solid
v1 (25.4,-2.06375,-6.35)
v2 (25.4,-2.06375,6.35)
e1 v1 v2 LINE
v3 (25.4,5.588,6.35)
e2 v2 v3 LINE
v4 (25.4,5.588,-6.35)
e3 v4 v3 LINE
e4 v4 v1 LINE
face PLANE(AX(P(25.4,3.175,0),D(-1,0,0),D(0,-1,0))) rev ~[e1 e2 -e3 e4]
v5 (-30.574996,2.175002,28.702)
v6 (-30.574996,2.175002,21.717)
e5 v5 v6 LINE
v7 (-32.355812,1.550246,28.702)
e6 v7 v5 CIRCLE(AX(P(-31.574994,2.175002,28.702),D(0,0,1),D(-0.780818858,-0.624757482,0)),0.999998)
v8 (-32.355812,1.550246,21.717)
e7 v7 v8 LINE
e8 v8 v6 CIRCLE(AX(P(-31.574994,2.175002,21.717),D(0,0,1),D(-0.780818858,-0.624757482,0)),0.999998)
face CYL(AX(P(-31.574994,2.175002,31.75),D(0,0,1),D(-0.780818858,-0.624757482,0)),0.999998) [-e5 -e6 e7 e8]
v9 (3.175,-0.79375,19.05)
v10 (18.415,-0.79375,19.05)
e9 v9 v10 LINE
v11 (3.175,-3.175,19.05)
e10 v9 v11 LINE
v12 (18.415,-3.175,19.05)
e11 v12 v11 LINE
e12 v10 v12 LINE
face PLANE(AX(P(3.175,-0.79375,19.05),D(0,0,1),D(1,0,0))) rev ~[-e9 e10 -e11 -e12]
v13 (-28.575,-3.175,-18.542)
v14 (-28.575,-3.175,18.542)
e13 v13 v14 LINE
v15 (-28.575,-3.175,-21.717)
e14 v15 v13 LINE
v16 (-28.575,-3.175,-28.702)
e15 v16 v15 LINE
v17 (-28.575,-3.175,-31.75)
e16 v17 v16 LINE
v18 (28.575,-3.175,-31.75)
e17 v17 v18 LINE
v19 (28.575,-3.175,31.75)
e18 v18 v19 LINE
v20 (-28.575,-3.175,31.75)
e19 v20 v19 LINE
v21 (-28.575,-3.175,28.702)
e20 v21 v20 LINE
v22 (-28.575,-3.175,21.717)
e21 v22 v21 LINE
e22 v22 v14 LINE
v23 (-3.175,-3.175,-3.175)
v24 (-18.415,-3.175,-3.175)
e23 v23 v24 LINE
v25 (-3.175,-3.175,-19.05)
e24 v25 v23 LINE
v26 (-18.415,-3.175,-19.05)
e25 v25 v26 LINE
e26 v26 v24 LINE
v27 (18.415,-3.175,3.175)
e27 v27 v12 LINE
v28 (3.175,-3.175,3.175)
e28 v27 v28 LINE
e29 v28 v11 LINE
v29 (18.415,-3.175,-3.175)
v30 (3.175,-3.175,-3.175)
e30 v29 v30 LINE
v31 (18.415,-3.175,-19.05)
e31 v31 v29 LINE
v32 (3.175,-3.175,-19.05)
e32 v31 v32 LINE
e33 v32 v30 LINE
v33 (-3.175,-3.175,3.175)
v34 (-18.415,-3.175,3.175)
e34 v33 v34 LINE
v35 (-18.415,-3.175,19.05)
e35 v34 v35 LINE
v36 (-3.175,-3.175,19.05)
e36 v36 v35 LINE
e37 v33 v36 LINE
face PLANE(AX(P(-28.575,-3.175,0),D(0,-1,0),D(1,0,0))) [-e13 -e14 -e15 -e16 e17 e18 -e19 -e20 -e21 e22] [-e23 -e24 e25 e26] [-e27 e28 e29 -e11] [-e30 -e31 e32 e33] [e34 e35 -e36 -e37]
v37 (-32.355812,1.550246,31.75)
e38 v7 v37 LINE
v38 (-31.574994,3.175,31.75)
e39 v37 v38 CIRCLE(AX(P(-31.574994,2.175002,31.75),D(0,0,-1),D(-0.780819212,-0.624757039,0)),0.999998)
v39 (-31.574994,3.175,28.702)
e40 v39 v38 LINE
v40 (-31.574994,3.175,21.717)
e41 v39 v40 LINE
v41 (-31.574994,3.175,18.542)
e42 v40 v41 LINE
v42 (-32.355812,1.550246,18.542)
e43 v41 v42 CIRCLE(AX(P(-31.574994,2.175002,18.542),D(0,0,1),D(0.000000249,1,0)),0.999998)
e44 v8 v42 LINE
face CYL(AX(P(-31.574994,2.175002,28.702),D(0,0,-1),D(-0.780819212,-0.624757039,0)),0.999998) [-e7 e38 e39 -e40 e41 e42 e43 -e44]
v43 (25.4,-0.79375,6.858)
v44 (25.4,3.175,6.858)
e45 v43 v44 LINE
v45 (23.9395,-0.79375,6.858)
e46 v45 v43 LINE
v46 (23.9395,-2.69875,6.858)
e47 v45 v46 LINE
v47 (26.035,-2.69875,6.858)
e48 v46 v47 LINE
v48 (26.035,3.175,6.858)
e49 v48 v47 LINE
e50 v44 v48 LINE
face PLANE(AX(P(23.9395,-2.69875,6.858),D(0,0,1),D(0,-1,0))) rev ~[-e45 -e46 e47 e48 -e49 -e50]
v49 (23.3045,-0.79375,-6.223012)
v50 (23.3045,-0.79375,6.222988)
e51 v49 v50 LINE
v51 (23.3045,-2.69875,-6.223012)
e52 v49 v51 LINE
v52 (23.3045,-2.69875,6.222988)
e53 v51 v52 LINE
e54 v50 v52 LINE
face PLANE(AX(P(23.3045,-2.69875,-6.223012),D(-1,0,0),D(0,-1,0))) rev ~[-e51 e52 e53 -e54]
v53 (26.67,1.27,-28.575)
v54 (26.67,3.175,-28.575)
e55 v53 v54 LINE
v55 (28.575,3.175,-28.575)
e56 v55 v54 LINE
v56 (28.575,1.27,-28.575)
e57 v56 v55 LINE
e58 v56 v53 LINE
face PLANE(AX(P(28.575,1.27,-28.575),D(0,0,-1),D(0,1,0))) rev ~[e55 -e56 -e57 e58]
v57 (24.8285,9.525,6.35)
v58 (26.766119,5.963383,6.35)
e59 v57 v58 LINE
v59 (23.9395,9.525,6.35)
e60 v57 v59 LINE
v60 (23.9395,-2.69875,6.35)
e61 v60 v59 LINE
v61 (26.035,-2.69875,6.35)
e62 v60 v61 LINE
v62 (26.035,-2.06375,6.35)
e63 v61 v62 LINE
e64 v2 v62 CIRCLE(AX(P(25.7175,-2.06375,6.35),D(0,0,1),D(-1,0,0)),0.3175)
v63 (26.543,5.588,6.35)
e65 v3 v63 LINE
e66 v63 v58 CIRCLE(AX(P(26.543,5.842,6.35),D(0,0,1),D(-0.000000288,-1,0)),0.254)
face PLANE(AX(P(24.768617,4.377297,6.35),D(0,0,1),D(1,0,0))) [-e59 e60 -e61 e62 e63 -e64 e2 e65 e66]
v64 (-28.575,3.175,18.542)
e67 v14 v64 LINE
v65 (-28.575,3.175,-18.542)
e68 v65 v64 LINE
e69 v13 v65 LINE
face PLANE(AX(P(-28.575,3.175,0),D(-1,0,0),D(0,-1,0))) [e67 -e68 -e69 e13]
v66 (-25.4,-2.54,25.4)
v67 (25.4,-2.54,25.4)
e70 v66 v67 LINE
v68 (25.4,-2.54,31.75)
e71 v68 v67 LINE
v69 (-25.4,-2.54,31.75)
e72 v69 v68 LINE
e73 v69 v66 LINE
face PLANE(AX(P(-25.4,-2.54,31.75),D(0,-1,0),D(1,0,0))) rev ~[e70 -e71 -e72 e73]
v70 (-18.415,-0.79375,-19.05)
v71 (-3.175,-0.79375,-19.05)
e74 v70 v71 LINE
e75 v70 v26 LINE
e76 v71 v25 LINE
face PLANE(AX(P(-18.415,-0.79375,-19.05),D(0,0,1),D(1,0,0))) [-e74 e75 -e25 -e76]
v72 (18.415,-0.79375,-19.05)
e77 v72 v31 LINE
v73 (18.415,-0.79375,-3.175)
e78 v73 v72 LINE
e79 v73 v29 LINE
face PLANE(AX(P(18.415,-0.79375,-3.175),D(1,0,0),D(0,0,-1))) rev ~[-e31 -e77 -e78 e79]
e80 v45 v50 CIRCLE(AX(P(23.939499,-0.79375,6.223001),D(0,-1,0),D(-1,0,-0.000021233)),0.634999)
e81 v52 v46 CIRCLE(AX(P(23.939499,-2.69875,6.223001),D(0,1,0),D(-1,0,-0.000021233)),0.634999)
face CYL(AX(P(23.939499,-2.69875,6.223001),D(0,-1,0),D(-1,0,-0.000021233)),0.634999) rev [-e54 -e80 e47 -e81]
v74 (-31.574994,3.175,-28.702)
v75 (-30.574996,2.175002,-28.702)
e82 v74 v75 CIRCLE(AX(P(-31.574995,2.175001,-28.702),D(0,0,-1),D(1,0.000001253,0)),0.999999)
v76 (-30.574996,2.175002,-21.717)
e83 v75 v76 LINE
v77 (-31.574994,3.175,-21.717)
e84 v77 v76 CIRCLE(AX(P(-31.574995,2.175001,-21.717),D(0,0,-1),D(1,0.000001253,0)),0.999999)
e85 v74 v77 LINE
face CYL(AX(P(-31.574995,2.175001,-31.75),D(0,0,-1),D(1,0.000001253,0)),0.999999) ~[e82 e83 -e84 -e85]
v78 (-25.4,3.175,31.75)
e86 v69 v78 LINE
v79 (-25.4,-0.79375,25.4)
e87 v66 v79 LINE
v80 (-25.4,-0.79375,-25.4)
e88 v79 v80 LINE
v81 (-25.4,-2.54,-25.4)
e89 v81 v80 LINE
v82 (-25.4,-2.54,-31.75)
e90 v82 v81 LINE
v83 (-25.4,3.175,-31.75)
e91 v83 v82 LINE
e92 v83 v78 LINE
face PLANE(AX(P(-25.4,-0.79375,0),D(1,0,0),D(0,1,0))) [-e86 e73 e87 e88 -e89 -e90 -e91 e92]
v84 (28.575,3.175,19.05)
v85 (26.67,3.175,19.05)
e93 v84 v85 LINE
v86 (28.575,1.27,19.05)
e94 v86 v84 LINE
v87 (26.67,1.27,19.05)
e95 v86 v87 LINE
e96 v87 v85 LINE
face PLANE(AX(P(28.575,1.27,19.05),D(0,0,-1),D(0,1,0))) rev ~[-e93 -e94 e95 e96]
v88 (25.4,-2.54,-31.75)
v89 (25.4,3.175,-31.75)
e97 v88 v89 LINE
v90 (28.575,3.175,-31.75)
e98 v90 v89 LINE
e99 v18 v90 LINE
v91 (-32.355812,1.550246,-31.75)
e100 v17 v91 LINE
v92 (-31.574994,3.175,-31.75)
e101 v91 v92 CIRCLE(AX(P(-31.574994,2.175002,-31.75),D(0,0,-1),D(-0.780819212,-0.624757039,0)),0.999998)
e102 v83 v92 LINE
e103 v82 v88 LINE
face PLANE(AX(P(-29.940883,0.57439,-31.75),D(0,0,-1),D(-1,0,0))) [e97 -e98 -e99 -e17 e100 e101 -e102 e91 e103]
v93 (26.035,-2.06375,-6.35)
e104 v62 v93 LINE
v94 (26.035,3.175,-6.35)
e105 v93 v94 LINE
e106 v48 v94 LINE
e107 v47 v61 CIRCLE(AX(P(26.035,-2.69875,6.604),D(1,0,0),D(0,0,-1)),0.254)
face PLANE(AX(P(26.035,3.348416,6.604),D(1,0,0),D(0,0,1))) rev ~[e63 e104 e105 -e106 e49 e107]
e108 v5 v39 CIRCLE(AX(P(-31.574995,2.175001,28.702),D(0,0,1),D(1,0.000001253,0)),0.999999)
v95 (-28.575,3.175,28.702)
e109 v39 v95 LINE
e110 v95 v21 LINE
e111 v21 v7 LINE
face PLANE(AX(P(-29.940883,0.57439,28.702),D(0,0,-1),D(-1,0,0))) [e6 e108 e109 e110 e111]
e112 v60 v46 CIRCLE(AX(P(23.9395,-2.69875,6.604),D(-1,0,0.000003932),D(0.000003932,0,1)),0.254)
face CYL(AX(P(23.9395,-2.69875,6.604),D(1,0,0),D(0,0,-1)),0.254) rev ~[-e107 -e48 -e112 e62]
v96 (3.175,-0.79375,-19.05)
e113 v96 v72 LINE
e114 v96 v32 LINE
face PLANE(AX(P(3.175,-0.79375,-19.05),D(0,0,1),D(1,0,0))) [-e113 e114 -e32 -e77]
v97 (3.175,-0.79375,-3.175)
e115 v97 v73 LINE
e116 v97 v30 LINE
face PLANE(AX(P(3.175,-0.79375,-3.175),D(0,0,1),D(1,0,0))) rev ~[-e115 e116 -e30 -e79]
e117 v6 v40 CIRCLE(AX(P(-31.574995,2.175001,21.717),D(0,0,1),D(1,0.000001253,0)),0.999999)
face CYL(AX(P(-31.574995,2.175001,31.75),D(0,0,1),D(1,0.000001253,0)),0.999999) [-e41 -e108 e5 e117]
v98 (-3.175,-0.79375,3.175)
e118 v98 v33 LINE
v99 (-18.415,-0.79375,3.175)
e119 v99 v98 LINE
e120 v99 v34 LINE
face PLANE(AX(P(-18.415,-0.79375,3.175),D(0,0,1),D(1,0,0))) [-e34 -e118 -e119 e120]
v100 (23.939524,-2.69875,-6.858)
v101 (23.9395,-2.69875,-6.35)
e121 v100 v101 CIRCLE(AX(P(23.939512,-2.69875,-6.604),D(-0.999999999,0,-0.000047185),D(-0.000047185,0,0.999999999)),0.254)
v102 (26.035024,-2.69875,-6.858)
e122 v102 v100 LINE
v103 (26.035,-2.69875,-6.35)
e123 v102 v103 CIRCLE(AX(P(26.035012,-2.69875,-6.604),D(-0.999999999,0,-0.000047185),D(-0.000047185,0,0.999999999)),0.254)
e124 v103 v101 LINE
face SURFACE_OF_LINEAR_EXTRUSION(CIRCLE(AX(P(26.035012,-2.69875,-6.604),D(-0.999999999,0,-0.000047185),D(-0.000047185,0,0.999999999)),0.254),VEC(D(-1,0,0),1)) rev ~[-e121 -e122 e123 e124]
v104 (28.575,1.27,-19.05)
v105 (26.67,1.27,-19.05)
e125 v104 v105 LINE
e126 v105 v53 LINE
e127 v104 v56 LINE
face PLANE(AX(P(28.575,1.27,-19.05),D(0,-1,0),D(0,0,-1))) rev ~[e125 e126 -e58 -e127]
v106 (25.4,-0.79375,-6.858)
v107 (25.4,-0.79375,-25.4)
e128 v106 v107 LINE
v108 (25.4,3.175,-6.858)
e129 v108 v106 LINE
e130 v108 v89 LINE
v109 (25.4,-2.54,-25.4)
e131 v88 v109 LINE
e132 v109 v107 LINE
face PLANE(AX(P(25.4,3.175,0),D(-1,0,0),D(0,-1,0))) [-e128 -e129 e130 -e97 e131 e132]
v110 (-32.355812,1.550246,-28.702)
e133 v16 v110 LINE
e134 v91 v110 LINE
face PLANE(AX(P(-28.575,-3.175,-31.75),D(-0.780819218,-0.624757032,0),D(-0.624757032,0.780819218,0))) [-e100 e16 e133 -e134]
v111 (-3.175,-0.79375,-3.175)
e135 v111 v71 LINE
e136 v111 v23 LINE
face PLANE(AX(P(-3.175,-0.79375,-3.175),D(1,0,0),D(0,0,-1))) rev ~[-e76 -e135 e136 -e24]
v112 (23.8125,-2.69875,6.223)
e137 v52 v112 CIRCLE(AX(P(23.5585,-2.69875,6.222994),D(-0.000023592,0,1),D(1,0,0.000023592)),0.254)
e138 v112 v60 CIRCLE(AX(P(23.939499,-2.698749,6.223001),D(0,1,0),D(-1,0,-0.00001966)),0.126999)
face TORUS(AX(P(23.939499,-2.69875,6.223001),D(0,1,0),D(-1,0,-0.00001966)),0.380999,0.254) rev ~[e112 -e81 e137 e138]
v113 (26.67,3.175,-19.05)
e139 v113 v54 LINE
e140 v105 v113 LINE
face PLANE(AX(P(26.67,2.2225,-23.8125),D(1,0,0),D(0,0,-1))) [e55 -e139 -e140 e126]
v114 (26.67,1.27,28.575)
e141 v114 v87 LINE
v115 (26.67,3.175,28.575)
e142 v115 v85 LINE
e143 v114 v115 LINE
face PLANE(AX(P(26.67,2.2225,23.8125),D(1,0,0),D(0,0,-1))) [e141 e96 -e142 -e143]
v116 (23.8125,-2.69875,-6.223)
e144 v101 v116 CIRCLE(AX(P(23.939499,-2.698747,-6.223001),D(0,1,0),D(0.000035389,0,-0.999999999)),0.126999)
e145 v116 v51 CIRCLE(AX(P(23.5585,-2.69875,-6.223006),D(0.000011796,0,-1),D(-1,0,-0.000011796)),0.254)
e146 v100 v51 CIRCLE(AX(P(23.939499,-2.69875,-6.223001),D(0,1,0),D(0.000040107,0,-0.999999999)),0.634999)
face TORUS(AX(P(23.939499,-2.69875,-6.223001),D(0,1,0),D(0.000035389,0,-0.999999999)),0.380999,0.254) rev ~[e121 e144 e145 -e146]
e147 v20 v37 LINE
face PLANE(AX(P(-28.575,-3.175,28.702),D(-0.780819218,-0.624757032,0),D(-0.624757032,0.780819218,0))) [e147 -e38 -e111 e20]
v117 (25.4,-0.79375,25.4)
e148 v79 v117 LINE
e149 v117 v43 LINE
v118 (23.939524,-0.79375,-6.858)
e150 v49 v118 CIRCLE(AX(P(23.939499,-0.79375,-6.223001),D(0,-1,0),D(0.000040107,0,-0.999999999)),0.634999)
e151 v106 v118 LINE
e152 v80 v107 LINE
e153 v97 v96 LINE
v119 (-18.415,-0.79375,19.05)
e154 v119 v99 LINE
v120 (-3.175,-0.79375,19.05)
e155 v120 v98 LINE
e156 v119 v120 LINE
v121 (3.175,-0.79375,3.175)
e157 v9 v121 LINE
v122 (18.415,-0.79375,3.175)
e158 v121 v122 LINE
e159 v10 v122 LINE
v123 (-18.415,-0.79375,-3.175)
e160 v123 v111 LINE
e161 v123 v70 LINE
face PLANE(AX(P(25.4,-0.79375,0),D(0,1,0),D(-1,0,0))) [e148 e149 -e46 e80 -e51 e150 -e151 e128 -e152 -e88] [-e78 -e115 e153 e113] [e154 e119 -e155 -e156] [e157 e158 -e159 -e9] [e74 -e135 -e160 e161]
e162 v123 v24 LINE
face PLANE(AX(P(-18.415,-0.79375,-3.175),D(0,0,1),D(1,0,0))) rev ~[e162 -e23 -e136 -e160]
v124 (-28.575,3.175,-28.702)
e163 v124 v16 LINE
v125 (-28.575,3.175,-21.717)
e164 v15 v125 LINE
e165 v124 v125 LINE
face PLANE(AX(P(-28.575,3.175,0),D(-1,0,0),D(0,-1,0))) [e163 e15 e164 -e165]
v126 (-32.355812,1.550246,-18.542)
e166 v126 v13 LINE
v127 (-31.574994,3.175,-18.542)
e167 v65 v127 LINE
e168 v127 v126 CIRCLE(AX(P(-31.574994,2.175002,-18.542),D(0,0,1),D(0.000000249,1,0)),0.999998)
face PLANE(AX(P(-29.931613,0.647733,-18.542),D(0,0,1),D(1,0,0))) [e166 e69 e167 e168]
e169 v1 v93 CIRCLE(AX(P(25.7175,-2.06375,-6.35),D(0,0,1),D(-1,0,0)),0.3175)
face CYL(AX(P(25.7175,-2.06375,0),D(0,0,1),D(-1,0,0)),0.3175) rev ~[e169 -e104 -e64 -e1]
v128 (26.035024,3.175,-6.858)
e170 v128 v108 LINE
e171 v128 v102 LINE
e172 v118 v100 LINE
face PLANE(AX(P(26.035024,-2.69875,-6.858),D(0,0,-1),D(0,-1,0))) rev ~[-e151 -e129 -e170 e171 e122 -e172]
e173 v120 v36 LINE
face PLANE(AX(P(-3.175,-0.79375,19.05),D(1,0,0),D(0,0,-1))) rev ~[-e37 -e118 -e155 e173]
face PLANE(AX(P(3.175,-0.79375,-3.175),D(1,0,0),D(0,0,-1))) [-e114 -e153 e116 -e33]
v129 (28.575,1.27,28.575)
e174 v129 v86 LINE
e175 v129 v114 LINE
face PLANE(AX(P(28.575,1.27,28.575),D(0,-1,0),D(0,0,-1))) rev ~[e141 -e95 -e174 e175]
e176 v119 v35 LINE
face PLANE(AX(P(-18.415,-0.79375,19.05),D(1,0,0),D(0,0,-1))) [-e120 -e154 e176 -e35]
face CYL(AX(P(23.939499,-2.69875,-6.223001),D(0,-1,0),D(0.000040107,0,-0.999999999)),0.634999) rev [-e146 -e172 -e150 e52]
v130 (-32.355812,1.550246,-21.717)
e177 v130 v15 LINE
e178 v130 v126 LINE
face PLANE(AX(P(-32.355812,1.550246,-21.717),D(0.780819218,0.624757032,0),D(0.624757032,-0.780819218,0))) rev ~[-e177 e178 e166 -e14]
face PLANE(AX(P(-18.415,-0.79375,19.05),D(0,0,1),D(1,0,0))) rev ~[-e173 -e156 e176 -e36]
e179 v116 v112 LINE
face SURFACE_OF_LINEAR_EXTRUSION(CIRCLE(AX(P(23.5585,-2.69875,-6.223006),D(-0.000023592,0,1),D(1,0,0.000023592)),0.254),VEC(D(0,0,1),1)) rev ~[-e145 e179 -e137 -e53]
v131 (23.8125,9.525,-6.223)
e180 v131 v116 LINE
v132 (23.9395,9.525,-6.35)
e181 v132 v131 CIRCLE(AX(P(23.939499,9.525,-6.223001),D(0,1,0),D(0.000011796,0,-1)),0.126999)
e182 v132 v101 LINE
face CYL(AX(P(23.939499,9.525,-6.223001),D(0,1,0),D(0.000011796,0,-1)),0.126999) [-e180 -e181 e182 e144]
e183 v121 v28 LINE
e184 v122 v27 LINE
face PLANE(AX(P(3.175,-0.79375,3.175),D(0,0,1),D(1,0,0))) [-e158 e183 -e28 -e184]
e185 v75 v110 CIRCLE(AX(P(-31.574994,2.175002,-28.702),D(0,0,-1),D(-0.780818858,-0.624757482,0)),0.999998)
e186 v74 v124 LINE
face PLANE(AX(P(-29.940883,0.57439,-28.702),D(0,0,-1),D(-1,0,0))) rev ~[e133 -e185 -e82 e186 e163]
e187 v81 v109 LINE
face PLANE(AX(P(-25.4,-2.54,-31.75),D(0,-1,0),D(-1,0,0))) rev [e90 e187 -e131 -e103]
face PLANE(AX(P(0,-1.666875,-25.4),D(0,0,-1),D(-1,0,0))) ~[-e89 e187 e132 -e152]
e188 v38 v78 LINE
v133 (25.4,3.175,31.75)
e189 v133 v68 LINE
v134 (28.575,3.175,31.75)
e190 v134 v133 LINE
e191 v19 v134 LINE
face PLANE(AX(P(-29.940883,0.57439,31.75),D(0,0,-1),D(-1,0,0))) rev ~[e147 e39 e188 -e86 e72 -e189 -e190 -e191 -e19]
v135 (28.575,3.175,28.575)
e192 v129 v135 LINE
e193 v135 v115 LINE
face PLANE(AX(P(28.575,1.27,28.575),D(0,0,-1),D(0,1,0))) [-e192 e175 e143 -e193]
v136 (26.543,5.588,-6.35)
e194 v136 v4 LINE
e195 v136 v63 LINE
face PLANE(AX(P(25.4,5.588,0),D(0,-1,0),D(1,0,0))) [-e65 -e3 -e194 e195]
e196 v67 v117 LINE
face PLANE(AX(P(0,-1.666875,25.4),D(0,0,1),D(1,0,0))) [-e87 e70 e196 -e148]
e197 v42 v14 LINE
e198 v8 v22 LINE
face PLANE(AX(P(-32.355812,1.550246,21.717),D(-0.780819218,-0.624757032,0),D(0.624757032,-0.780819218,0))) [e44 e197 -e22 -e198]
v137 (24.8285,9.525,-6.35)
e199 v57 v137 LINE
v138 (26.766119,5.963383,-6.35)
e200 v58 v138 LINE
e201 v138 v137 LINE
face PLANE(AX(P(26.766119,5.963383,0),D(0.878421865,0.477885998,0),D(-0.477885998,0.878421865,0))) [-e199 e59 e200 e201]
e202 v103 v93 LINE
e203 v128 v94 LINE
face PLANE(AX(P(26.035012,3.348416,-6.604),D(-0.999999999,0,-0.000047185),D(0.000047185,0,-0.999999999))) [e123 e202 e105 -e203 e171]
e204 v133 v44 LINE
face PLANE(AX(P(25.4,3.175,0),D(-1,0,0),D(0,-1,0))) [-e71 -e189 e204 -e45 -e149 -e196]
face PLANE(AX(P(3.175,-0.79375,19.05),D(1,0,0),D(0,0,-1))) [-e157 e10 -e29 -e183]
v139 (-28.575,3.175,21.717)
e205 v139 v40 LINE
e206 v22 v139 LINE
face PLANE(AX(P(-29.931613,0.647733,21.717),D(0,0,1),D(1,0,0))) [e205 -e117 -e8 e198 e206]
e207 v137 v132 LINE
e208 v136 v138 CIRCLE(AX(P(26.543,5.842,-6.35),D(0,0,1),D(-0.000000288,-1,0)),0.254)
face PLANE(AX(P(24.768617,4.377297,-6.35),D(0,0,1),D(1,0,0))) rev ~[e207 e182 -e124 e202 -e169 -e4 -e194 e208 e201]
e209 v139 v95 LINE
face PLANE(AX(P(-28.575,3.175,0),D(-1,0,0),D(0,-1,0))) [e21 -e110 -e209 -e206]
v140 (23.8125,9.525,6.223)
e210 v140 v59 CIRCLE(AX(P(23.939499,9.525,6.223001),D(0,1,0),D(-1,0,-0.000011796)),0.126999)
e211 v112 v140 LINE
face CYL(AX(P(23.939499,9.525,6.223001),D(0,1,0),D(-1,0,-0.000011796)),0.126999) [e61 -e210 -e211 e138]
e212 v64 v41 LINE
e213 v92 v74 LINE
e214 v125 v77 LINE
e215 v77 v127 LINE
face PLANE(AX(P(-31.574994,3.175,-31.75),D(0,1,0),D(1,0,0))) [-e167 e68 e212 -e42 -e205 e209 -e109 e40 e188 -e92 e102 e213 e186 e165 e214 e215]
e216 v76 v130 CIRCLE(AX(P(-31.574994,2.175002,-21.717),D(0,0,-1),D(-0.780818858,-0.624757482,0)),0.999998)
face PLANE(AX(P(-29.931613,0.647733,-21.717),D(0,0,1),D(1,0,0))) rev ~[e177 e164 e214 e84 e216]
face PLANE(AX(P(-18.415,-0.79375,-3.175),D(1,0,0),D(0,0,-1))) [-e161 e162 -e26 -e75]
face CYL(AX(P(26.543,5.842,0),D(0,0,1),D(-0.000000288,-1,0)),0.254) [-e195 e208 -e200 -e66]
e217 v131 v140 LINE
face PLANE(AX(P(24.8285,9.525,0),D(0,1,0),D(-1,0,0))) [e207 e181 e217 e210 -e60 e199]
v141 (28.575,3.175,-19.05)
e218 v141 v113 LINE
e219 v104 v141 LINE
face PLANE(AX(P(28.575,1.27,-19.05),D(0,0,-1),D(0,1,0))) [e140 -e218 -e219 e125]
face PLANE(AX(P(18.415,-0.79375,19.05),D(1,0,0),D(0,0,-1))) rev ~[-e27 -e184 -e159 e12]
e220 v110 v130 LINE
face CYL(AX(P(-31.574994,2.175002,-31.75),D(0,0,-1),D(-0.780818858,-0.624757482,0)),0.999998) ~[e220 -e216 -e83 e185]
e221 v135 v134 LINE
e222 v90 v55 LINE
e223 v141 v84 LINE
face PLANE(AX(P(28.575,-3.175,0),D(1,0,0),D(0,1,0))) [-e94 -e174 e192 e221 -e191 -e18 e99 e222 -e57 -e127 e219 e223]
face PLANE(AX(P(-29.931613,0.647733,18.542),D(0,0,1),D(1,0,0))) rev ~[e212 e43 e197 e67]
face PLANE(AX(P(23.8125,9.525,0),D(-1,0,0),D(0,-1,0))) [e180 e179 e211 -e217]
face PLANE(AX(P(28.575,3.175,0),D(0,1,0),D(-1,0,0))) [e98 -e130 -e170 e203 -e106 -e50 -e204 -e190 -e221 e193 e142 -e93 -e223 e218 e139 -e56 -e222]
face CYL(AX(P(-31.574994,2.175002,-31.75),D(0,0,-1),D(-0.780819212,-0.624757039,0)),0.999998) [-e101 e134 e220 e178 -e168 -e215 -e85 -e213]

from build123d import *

# Parameters (mm, degrees)
BOSS_EXTRUDE1_DEPTH     = 31.75
BOSS_EXTRUDE2_DEPTH     = 6.35
CUT_EXTRUDE2_DEPTH      = 6.4135
BOSS_EXTRUDE3_START     = 28.702
BOSS_EXTRUDE3_DEPTH     = 3.048
BOSS_EXTRUDE5_START     = -31.75
BOSS_EXTRUDE5_DEPTH     = 3.048
BOSS_EXTRUDE7_START     = 21.717
BOSS_EXTRUDE7_DEPTH     = 3.175
BOSS_EXTRUDE8_START     = -21.717
BOSS_EXTRUDE8_DEPTH     = 3.175
BOSS_EXTRUDE6_START     = 31.75
BOSS_EXTRUDE6_DEPTH     = 13.208
BOSS_EXTRUDE9_START     = -31.75
BOSS_EXTRUDE9_DEPTH     = 13.208
SKETCH3_W               = 15.24
SKETCH3_H               = 15.875
CUT_EXTRUDE4_DEPTH      = 11.31875
CUT_EXTRUDE4_DEPTH_BACK = 3.38125
SKETCH5_W               = 50.8
SKETCH5_H               = 1.74625
CUT_EXTRUDE6_DEPTH      = 6.35
SKETCH6_W               = 9.525
SKETCH6_H               = 1.905
CUT_EXTRUDE7_DEPTH      = 1.905


with BuildPart() as part:
    # Sketch1 → Boss-Extrude1 (new body, symmetric)
    with BuildSketch(Plane.XY):
        Polygon((-25.4, -0.79375), (-25.4, 3.175), (-28.575, 3.175), (-28.575, -3.175), (28.575, -3.175), (28.575, 3.175), (25.4, 3.175), (25.4, -0.79375), align=None)
    extrude(amount=BOSS_EXTRUDE1_DEPTH, both=True)

    # Sketch1<3> → Boss-Extrude2 (add, symmetric)
    with BuildSketch(Plane.XY):
        with BuildLine():
            Line((23.8125, 9.525), (23.8125, -0.79375))
            Line((23.8125, -0.79375), (25.4, -0.79375))
            Line((25.4, -0.79375), (25.4, 5.588))
            Line((25.4, 5.588), (26.543, 5.588))
            ThreePointArc((26.543, 5.588), (26.761343, 5.712222), (26.766119, 5.963383))
            Line((26.766119, 5.963383), (24.8285, 9.525))
            Line((24.8285, 9.525), (23.8125, 9.525))
        make_face()
    extrude(amount=BOSS_EXTRUDE2_DEPTH, both=True)

    # Sketch1<6> → Cut-Extrude2 (cut, symmetric)
    with BuildSketch(Plane.XY):
        with BuildLine():
            Line((26.035, 3.175), (25.4, 3.175))
            Line((25.4, 3.175), (25.4, -0.79375))
            Line((25.4, -0.79375), (25.4, -2.06375))
            ThreePointArc((25.4, -2.06375), (25.7175, -2.38125), (26.035, -2.06375))
            Line((26.035, -2.06375), (26.035, 3.175))
        make_face()
    extrude(amount=CUT_EXTRUDE2_DEPTH, both=True, mode=Mode.SUBTRACT)

    # Cut-Sweep1: sweep along a path in Sketch7
    with BuildLine(Plane(origin=(0, -0.79375, 0), x_dir=(1, 0, 0), z_dir=(0, 1, 0))) as cut_sweep1_path:
        Line((26.035, 6.35), (23.9395, 6.35))
        ThreePointArc((23.9395, 6.35), (23.849697, 6.312803), (23.8125, 6.223))
        Line((23.8125, 6.223), (23.8125, -6.223))
        ThreePointArc((23.8125, -6.223), (23.849697, -6.312803), (23.9395, -6.35))
        Line((23.9395, -6.35), (26.035, -6.35))
    # Sketch8 → Cut-Sweep1 (sweep, cut)
    with BuildSketch(Plane(origin=(26.035, 0, 0), x_dir=(0, 0, -1), z_dir=(1, 0, 0))):
        with BuildLine():
            Line((-6.858, -2.69875), (-6.858, 9.525))
            Line((-6.858, 9.525), (-6.35, 9.525))
            Line((-6.35, 9.525), (-6.35, -2.69875))
            ThreePointArc((-6.35, -2.69875), (-6.604, -2.95275), (-6.858, -2.69875))
        make_face()
    sweep(path=cut_sweep1_path.line, mode=Mode.SUBTRACT)

    # Sketch1<7> → Boss-Extrude3 (add)
    with BuildSketch(Plane.XY.offset(BOSS_EXTRUDE3_START)):
        with BuildLine():
            ThreePointArc((-32.355812, 1.550246), (-32.476313, 2.608154), (-31.574994, 3.175))
            Line((-31.574994, 3.175), (-28.575, 3.175))
            Line((-28.575, 3.175), (-28.575, -3.175))
            Line((-28.575, -3.175), (-32.355812, 1.550246))
        make_face()
        with BuildLine():
            ThreePointArc((-30.574996, 2.175002), (-30.867889, 2.882107), (-31.574994, 3.175))
            ThreePointArc((-31.574994, 3.175), (-32.476313, 2.608154), (-32.355812, 1.550246))
            ThreePointArc((-32.355812, 1.550246), (-31.24395, 1.231389), (-30.574996, 2.175002))
        make_face()
    extrude(amount=BOSS_EXTRUDE3_DEPTH)

    # Sketch1<9> → Boss-Extrude5 (add)
    with BuildSketch(Plane.XY.offset(BOSS_EXTRUDE5_START)):
        with BuildLine():
            ThreePointArc((-32.355812, 1.550246), (-32.476313, 2.608154), (-31.574994, 3.175))
            Line((-31.574994, 3.175), (-28.575, 3.175))
            Line((-28.575, 3.175), (-28.575, -3.175))
            Line((-28.575, -3.175), (-32.355812, 1.550246))
        make_face()
        with BuildLine():
            ThreePointArc((-30.574996, 2.175002), (-30.867889, 2.882107), (-31.574994, 3.175))
            ThreePointArc((-31.574994, 3.175), (-32.476313, 2.608154), (-32.355812, 1.550246))
            ThreePointArc((-32.355812, 1.550246), (-31.24395, 1.231389), (-30.574996, 2.175002))
        make_face()
    extrude(amount=BOSS_EXTRUDE5_DEPTH)

    # Sketch1<13> → Boss-Extrude7 (add)
    with BuildSketch(Plane.XY.offset(BOSS_EXTRUDE7_START)):
        with BuildLine():
            Line((-28.575, -3.175), (-28.575, 3.175))
            Line((-28.575, 3.175), (-31.574994, 3.175))
            ThreePointArc((-31.574994, 3.175), (-30.867889, 2.882107), (-30.574996, 2.175002))
            ThreePointArc((-30.574996, 2.175002), (-31.24395, 1.231389), (-32.355812, 1.550246))
            Line((-32.355812, 1.550246), (-28.575, -3.175))
        make_face()
        with BuildLine():
            ThreePointArc((-30.574996, 2.175002), (-30.867889, 2.882107), (-31.574994, 3.175))
            ThreePointArc((-31.574994, 3.175), (-32.476313, 2.608154), (-32.355812, 1.550246))
            ThreePointArc((-32.355812, 1.550246), (-31.24395, 1.231389), (-30.574996, 2.175002))
        make_face()
    extrude(amount=-BOSS_EXTRUDE7_DEPTH)

    # Sketch1<14> → Boss-Extrude8 (add)
    with BuildSketch(Plane.XY.offset(BOSS_EXTRUDE8_START)):
        with BuildLine():
            Line((-28.575, -3.175), (-28.575, 3.175))
            Line((-28.575, 3.175), (-31.574994, 3.175))
            ThreePointArc((-31.574994, 3.175), (-30.867889, 2.882107), (-30.574996, 2.175002))
            ThreePointArc((-30.574996, 2.175002), (-31.24395, 1.231389), (-32.355812, 1.550246))
            Line((-32.355812, 1.550246), (-28.575, -3.175))
        make_face()
        with BuildLine():
            ThreePointArc((-30.574996, 2.175002), (-30.867889, 2.882107), (-31.574994, 3.175))
            ThreePointArc((-31.574994, 3.175), (-32.476313, 2.608154), (-32.355812, 1.550246))
            ThreePointArc((-32.355812, 1.550246), (-31.24395, 1.231389), (-30.574996, 2.175002))
        make_face()
    extrude(amount=BOSS_EXTRUDE8_DEPTH)

    # Sketch1<10> → Boss-Extrude6 (add)
    with BuildSketch(Plane.XY.offset(BOSS_EXTRUDE6_START)):
        with BuildLine():
            ThreePointArc((-30.574996, 2.175002), (-30.867889, 2.882107), (-31.574994, 3.175))
            ThreePointArc((-31.574994, 3.175), (-32.476313, 2.608154), (-32.355812, 1.550246))
            ThreePointArc((-32.355812, 1.550246), (-31.24395, 1.231389), (-30.574996, 2.175002))
        make_face()
    extrude(amount=-BOSS_EXTRUDE6_DEPTH)

    # Sketch1<16> → Boss-Extrude9 (add)
    with BuildSketch(Plane.XY.offset(BOSS_EXTRUDE9_START)):
        with BuildLine():
            ThreePointArc((-30.574996, 2.175002), (-30.867889, 2.882107), (-31.574994, 3.175))
            ThreePointArc((-31.574994, 3.175), (-32.476313, 2.608154), (-32.355812, 1.550246))
            ThreePointArc((-32.355812, 1.550246), (-31.24395, 1.231389), (-30.574996, 2.175002))
        make_face()
    extrude(amount=BOSS_EXTRUDE9_DEPTH)

    # Sketch3 → Cut-Extrude4 (cut, two sides)
    with BuildSketch(Plane(origin=(0, -0.79375, 0), x_dir=(1, 0, 0), z_dir=(0, 1, 0))) as cut_extrude4_sk:
        with Locations((10.795, 11.1125)):
            Rectangle(SKETCH3_W, SKETCH3_H)
        with Locations((-10.795, 11.1125)):
            Rectangle(SKETCH3_W, SKETCH3_H)
        with Locations((10.795, -11.1125)):
            Rectangle(SKETCH3_W, SKETCH3_H)
        with Locations((-10.795, -11.1125)):
            Rectangle(SKETCH3_W, SKETCH3_H)
    extrude(amount=CUT_EXTRUDE4_DEPTH, mode=Mode.SUBTRACT)
    extrude(cut_extrude4_sk.sketch, amount=-CUT_EXTRUDE4_DEPTH_BACK, mode=Mode.SUBTRACT)

    # Sketch5 → Cut-Extrude6 (cut)
    with BuildSketch(Plane.XY.offset(31.75)):
        with Locations((0, -1.666875)):
            Rectangle(SKETCH5_W, SKETCH5_H)
    cut_extrude6 = extrude(amount=-CUT_EXTRUDE6_DEPTH, mode=Mode.SUBTRACT)

    # Mirror1: Cut-Extrude6 across plane
    add(cut_extrude6.mirror(Plane.XY), mode=Mode.SUBTRACT)

    # Sketch6 → Cut-Extrude7 (cut)
    with BuildSketch(Plane(origin=(28.575, 0, 0), x_dir=(0, 0, -1), z_dir=(1, 0, 0))):
        with Locations((-23.8125, 2.2225)):
            Rectangle(SKETCH6_W, SKETCH6_H)
        with Locations((23.8125, 2.2225)):
            Rectangle(SKETCH6_W, SKETCH6_H)
    extrude(amount=-CUT_EXTRUDE7_DEPTH, mode=Mode.SUBTRACT)


solid = part.part
